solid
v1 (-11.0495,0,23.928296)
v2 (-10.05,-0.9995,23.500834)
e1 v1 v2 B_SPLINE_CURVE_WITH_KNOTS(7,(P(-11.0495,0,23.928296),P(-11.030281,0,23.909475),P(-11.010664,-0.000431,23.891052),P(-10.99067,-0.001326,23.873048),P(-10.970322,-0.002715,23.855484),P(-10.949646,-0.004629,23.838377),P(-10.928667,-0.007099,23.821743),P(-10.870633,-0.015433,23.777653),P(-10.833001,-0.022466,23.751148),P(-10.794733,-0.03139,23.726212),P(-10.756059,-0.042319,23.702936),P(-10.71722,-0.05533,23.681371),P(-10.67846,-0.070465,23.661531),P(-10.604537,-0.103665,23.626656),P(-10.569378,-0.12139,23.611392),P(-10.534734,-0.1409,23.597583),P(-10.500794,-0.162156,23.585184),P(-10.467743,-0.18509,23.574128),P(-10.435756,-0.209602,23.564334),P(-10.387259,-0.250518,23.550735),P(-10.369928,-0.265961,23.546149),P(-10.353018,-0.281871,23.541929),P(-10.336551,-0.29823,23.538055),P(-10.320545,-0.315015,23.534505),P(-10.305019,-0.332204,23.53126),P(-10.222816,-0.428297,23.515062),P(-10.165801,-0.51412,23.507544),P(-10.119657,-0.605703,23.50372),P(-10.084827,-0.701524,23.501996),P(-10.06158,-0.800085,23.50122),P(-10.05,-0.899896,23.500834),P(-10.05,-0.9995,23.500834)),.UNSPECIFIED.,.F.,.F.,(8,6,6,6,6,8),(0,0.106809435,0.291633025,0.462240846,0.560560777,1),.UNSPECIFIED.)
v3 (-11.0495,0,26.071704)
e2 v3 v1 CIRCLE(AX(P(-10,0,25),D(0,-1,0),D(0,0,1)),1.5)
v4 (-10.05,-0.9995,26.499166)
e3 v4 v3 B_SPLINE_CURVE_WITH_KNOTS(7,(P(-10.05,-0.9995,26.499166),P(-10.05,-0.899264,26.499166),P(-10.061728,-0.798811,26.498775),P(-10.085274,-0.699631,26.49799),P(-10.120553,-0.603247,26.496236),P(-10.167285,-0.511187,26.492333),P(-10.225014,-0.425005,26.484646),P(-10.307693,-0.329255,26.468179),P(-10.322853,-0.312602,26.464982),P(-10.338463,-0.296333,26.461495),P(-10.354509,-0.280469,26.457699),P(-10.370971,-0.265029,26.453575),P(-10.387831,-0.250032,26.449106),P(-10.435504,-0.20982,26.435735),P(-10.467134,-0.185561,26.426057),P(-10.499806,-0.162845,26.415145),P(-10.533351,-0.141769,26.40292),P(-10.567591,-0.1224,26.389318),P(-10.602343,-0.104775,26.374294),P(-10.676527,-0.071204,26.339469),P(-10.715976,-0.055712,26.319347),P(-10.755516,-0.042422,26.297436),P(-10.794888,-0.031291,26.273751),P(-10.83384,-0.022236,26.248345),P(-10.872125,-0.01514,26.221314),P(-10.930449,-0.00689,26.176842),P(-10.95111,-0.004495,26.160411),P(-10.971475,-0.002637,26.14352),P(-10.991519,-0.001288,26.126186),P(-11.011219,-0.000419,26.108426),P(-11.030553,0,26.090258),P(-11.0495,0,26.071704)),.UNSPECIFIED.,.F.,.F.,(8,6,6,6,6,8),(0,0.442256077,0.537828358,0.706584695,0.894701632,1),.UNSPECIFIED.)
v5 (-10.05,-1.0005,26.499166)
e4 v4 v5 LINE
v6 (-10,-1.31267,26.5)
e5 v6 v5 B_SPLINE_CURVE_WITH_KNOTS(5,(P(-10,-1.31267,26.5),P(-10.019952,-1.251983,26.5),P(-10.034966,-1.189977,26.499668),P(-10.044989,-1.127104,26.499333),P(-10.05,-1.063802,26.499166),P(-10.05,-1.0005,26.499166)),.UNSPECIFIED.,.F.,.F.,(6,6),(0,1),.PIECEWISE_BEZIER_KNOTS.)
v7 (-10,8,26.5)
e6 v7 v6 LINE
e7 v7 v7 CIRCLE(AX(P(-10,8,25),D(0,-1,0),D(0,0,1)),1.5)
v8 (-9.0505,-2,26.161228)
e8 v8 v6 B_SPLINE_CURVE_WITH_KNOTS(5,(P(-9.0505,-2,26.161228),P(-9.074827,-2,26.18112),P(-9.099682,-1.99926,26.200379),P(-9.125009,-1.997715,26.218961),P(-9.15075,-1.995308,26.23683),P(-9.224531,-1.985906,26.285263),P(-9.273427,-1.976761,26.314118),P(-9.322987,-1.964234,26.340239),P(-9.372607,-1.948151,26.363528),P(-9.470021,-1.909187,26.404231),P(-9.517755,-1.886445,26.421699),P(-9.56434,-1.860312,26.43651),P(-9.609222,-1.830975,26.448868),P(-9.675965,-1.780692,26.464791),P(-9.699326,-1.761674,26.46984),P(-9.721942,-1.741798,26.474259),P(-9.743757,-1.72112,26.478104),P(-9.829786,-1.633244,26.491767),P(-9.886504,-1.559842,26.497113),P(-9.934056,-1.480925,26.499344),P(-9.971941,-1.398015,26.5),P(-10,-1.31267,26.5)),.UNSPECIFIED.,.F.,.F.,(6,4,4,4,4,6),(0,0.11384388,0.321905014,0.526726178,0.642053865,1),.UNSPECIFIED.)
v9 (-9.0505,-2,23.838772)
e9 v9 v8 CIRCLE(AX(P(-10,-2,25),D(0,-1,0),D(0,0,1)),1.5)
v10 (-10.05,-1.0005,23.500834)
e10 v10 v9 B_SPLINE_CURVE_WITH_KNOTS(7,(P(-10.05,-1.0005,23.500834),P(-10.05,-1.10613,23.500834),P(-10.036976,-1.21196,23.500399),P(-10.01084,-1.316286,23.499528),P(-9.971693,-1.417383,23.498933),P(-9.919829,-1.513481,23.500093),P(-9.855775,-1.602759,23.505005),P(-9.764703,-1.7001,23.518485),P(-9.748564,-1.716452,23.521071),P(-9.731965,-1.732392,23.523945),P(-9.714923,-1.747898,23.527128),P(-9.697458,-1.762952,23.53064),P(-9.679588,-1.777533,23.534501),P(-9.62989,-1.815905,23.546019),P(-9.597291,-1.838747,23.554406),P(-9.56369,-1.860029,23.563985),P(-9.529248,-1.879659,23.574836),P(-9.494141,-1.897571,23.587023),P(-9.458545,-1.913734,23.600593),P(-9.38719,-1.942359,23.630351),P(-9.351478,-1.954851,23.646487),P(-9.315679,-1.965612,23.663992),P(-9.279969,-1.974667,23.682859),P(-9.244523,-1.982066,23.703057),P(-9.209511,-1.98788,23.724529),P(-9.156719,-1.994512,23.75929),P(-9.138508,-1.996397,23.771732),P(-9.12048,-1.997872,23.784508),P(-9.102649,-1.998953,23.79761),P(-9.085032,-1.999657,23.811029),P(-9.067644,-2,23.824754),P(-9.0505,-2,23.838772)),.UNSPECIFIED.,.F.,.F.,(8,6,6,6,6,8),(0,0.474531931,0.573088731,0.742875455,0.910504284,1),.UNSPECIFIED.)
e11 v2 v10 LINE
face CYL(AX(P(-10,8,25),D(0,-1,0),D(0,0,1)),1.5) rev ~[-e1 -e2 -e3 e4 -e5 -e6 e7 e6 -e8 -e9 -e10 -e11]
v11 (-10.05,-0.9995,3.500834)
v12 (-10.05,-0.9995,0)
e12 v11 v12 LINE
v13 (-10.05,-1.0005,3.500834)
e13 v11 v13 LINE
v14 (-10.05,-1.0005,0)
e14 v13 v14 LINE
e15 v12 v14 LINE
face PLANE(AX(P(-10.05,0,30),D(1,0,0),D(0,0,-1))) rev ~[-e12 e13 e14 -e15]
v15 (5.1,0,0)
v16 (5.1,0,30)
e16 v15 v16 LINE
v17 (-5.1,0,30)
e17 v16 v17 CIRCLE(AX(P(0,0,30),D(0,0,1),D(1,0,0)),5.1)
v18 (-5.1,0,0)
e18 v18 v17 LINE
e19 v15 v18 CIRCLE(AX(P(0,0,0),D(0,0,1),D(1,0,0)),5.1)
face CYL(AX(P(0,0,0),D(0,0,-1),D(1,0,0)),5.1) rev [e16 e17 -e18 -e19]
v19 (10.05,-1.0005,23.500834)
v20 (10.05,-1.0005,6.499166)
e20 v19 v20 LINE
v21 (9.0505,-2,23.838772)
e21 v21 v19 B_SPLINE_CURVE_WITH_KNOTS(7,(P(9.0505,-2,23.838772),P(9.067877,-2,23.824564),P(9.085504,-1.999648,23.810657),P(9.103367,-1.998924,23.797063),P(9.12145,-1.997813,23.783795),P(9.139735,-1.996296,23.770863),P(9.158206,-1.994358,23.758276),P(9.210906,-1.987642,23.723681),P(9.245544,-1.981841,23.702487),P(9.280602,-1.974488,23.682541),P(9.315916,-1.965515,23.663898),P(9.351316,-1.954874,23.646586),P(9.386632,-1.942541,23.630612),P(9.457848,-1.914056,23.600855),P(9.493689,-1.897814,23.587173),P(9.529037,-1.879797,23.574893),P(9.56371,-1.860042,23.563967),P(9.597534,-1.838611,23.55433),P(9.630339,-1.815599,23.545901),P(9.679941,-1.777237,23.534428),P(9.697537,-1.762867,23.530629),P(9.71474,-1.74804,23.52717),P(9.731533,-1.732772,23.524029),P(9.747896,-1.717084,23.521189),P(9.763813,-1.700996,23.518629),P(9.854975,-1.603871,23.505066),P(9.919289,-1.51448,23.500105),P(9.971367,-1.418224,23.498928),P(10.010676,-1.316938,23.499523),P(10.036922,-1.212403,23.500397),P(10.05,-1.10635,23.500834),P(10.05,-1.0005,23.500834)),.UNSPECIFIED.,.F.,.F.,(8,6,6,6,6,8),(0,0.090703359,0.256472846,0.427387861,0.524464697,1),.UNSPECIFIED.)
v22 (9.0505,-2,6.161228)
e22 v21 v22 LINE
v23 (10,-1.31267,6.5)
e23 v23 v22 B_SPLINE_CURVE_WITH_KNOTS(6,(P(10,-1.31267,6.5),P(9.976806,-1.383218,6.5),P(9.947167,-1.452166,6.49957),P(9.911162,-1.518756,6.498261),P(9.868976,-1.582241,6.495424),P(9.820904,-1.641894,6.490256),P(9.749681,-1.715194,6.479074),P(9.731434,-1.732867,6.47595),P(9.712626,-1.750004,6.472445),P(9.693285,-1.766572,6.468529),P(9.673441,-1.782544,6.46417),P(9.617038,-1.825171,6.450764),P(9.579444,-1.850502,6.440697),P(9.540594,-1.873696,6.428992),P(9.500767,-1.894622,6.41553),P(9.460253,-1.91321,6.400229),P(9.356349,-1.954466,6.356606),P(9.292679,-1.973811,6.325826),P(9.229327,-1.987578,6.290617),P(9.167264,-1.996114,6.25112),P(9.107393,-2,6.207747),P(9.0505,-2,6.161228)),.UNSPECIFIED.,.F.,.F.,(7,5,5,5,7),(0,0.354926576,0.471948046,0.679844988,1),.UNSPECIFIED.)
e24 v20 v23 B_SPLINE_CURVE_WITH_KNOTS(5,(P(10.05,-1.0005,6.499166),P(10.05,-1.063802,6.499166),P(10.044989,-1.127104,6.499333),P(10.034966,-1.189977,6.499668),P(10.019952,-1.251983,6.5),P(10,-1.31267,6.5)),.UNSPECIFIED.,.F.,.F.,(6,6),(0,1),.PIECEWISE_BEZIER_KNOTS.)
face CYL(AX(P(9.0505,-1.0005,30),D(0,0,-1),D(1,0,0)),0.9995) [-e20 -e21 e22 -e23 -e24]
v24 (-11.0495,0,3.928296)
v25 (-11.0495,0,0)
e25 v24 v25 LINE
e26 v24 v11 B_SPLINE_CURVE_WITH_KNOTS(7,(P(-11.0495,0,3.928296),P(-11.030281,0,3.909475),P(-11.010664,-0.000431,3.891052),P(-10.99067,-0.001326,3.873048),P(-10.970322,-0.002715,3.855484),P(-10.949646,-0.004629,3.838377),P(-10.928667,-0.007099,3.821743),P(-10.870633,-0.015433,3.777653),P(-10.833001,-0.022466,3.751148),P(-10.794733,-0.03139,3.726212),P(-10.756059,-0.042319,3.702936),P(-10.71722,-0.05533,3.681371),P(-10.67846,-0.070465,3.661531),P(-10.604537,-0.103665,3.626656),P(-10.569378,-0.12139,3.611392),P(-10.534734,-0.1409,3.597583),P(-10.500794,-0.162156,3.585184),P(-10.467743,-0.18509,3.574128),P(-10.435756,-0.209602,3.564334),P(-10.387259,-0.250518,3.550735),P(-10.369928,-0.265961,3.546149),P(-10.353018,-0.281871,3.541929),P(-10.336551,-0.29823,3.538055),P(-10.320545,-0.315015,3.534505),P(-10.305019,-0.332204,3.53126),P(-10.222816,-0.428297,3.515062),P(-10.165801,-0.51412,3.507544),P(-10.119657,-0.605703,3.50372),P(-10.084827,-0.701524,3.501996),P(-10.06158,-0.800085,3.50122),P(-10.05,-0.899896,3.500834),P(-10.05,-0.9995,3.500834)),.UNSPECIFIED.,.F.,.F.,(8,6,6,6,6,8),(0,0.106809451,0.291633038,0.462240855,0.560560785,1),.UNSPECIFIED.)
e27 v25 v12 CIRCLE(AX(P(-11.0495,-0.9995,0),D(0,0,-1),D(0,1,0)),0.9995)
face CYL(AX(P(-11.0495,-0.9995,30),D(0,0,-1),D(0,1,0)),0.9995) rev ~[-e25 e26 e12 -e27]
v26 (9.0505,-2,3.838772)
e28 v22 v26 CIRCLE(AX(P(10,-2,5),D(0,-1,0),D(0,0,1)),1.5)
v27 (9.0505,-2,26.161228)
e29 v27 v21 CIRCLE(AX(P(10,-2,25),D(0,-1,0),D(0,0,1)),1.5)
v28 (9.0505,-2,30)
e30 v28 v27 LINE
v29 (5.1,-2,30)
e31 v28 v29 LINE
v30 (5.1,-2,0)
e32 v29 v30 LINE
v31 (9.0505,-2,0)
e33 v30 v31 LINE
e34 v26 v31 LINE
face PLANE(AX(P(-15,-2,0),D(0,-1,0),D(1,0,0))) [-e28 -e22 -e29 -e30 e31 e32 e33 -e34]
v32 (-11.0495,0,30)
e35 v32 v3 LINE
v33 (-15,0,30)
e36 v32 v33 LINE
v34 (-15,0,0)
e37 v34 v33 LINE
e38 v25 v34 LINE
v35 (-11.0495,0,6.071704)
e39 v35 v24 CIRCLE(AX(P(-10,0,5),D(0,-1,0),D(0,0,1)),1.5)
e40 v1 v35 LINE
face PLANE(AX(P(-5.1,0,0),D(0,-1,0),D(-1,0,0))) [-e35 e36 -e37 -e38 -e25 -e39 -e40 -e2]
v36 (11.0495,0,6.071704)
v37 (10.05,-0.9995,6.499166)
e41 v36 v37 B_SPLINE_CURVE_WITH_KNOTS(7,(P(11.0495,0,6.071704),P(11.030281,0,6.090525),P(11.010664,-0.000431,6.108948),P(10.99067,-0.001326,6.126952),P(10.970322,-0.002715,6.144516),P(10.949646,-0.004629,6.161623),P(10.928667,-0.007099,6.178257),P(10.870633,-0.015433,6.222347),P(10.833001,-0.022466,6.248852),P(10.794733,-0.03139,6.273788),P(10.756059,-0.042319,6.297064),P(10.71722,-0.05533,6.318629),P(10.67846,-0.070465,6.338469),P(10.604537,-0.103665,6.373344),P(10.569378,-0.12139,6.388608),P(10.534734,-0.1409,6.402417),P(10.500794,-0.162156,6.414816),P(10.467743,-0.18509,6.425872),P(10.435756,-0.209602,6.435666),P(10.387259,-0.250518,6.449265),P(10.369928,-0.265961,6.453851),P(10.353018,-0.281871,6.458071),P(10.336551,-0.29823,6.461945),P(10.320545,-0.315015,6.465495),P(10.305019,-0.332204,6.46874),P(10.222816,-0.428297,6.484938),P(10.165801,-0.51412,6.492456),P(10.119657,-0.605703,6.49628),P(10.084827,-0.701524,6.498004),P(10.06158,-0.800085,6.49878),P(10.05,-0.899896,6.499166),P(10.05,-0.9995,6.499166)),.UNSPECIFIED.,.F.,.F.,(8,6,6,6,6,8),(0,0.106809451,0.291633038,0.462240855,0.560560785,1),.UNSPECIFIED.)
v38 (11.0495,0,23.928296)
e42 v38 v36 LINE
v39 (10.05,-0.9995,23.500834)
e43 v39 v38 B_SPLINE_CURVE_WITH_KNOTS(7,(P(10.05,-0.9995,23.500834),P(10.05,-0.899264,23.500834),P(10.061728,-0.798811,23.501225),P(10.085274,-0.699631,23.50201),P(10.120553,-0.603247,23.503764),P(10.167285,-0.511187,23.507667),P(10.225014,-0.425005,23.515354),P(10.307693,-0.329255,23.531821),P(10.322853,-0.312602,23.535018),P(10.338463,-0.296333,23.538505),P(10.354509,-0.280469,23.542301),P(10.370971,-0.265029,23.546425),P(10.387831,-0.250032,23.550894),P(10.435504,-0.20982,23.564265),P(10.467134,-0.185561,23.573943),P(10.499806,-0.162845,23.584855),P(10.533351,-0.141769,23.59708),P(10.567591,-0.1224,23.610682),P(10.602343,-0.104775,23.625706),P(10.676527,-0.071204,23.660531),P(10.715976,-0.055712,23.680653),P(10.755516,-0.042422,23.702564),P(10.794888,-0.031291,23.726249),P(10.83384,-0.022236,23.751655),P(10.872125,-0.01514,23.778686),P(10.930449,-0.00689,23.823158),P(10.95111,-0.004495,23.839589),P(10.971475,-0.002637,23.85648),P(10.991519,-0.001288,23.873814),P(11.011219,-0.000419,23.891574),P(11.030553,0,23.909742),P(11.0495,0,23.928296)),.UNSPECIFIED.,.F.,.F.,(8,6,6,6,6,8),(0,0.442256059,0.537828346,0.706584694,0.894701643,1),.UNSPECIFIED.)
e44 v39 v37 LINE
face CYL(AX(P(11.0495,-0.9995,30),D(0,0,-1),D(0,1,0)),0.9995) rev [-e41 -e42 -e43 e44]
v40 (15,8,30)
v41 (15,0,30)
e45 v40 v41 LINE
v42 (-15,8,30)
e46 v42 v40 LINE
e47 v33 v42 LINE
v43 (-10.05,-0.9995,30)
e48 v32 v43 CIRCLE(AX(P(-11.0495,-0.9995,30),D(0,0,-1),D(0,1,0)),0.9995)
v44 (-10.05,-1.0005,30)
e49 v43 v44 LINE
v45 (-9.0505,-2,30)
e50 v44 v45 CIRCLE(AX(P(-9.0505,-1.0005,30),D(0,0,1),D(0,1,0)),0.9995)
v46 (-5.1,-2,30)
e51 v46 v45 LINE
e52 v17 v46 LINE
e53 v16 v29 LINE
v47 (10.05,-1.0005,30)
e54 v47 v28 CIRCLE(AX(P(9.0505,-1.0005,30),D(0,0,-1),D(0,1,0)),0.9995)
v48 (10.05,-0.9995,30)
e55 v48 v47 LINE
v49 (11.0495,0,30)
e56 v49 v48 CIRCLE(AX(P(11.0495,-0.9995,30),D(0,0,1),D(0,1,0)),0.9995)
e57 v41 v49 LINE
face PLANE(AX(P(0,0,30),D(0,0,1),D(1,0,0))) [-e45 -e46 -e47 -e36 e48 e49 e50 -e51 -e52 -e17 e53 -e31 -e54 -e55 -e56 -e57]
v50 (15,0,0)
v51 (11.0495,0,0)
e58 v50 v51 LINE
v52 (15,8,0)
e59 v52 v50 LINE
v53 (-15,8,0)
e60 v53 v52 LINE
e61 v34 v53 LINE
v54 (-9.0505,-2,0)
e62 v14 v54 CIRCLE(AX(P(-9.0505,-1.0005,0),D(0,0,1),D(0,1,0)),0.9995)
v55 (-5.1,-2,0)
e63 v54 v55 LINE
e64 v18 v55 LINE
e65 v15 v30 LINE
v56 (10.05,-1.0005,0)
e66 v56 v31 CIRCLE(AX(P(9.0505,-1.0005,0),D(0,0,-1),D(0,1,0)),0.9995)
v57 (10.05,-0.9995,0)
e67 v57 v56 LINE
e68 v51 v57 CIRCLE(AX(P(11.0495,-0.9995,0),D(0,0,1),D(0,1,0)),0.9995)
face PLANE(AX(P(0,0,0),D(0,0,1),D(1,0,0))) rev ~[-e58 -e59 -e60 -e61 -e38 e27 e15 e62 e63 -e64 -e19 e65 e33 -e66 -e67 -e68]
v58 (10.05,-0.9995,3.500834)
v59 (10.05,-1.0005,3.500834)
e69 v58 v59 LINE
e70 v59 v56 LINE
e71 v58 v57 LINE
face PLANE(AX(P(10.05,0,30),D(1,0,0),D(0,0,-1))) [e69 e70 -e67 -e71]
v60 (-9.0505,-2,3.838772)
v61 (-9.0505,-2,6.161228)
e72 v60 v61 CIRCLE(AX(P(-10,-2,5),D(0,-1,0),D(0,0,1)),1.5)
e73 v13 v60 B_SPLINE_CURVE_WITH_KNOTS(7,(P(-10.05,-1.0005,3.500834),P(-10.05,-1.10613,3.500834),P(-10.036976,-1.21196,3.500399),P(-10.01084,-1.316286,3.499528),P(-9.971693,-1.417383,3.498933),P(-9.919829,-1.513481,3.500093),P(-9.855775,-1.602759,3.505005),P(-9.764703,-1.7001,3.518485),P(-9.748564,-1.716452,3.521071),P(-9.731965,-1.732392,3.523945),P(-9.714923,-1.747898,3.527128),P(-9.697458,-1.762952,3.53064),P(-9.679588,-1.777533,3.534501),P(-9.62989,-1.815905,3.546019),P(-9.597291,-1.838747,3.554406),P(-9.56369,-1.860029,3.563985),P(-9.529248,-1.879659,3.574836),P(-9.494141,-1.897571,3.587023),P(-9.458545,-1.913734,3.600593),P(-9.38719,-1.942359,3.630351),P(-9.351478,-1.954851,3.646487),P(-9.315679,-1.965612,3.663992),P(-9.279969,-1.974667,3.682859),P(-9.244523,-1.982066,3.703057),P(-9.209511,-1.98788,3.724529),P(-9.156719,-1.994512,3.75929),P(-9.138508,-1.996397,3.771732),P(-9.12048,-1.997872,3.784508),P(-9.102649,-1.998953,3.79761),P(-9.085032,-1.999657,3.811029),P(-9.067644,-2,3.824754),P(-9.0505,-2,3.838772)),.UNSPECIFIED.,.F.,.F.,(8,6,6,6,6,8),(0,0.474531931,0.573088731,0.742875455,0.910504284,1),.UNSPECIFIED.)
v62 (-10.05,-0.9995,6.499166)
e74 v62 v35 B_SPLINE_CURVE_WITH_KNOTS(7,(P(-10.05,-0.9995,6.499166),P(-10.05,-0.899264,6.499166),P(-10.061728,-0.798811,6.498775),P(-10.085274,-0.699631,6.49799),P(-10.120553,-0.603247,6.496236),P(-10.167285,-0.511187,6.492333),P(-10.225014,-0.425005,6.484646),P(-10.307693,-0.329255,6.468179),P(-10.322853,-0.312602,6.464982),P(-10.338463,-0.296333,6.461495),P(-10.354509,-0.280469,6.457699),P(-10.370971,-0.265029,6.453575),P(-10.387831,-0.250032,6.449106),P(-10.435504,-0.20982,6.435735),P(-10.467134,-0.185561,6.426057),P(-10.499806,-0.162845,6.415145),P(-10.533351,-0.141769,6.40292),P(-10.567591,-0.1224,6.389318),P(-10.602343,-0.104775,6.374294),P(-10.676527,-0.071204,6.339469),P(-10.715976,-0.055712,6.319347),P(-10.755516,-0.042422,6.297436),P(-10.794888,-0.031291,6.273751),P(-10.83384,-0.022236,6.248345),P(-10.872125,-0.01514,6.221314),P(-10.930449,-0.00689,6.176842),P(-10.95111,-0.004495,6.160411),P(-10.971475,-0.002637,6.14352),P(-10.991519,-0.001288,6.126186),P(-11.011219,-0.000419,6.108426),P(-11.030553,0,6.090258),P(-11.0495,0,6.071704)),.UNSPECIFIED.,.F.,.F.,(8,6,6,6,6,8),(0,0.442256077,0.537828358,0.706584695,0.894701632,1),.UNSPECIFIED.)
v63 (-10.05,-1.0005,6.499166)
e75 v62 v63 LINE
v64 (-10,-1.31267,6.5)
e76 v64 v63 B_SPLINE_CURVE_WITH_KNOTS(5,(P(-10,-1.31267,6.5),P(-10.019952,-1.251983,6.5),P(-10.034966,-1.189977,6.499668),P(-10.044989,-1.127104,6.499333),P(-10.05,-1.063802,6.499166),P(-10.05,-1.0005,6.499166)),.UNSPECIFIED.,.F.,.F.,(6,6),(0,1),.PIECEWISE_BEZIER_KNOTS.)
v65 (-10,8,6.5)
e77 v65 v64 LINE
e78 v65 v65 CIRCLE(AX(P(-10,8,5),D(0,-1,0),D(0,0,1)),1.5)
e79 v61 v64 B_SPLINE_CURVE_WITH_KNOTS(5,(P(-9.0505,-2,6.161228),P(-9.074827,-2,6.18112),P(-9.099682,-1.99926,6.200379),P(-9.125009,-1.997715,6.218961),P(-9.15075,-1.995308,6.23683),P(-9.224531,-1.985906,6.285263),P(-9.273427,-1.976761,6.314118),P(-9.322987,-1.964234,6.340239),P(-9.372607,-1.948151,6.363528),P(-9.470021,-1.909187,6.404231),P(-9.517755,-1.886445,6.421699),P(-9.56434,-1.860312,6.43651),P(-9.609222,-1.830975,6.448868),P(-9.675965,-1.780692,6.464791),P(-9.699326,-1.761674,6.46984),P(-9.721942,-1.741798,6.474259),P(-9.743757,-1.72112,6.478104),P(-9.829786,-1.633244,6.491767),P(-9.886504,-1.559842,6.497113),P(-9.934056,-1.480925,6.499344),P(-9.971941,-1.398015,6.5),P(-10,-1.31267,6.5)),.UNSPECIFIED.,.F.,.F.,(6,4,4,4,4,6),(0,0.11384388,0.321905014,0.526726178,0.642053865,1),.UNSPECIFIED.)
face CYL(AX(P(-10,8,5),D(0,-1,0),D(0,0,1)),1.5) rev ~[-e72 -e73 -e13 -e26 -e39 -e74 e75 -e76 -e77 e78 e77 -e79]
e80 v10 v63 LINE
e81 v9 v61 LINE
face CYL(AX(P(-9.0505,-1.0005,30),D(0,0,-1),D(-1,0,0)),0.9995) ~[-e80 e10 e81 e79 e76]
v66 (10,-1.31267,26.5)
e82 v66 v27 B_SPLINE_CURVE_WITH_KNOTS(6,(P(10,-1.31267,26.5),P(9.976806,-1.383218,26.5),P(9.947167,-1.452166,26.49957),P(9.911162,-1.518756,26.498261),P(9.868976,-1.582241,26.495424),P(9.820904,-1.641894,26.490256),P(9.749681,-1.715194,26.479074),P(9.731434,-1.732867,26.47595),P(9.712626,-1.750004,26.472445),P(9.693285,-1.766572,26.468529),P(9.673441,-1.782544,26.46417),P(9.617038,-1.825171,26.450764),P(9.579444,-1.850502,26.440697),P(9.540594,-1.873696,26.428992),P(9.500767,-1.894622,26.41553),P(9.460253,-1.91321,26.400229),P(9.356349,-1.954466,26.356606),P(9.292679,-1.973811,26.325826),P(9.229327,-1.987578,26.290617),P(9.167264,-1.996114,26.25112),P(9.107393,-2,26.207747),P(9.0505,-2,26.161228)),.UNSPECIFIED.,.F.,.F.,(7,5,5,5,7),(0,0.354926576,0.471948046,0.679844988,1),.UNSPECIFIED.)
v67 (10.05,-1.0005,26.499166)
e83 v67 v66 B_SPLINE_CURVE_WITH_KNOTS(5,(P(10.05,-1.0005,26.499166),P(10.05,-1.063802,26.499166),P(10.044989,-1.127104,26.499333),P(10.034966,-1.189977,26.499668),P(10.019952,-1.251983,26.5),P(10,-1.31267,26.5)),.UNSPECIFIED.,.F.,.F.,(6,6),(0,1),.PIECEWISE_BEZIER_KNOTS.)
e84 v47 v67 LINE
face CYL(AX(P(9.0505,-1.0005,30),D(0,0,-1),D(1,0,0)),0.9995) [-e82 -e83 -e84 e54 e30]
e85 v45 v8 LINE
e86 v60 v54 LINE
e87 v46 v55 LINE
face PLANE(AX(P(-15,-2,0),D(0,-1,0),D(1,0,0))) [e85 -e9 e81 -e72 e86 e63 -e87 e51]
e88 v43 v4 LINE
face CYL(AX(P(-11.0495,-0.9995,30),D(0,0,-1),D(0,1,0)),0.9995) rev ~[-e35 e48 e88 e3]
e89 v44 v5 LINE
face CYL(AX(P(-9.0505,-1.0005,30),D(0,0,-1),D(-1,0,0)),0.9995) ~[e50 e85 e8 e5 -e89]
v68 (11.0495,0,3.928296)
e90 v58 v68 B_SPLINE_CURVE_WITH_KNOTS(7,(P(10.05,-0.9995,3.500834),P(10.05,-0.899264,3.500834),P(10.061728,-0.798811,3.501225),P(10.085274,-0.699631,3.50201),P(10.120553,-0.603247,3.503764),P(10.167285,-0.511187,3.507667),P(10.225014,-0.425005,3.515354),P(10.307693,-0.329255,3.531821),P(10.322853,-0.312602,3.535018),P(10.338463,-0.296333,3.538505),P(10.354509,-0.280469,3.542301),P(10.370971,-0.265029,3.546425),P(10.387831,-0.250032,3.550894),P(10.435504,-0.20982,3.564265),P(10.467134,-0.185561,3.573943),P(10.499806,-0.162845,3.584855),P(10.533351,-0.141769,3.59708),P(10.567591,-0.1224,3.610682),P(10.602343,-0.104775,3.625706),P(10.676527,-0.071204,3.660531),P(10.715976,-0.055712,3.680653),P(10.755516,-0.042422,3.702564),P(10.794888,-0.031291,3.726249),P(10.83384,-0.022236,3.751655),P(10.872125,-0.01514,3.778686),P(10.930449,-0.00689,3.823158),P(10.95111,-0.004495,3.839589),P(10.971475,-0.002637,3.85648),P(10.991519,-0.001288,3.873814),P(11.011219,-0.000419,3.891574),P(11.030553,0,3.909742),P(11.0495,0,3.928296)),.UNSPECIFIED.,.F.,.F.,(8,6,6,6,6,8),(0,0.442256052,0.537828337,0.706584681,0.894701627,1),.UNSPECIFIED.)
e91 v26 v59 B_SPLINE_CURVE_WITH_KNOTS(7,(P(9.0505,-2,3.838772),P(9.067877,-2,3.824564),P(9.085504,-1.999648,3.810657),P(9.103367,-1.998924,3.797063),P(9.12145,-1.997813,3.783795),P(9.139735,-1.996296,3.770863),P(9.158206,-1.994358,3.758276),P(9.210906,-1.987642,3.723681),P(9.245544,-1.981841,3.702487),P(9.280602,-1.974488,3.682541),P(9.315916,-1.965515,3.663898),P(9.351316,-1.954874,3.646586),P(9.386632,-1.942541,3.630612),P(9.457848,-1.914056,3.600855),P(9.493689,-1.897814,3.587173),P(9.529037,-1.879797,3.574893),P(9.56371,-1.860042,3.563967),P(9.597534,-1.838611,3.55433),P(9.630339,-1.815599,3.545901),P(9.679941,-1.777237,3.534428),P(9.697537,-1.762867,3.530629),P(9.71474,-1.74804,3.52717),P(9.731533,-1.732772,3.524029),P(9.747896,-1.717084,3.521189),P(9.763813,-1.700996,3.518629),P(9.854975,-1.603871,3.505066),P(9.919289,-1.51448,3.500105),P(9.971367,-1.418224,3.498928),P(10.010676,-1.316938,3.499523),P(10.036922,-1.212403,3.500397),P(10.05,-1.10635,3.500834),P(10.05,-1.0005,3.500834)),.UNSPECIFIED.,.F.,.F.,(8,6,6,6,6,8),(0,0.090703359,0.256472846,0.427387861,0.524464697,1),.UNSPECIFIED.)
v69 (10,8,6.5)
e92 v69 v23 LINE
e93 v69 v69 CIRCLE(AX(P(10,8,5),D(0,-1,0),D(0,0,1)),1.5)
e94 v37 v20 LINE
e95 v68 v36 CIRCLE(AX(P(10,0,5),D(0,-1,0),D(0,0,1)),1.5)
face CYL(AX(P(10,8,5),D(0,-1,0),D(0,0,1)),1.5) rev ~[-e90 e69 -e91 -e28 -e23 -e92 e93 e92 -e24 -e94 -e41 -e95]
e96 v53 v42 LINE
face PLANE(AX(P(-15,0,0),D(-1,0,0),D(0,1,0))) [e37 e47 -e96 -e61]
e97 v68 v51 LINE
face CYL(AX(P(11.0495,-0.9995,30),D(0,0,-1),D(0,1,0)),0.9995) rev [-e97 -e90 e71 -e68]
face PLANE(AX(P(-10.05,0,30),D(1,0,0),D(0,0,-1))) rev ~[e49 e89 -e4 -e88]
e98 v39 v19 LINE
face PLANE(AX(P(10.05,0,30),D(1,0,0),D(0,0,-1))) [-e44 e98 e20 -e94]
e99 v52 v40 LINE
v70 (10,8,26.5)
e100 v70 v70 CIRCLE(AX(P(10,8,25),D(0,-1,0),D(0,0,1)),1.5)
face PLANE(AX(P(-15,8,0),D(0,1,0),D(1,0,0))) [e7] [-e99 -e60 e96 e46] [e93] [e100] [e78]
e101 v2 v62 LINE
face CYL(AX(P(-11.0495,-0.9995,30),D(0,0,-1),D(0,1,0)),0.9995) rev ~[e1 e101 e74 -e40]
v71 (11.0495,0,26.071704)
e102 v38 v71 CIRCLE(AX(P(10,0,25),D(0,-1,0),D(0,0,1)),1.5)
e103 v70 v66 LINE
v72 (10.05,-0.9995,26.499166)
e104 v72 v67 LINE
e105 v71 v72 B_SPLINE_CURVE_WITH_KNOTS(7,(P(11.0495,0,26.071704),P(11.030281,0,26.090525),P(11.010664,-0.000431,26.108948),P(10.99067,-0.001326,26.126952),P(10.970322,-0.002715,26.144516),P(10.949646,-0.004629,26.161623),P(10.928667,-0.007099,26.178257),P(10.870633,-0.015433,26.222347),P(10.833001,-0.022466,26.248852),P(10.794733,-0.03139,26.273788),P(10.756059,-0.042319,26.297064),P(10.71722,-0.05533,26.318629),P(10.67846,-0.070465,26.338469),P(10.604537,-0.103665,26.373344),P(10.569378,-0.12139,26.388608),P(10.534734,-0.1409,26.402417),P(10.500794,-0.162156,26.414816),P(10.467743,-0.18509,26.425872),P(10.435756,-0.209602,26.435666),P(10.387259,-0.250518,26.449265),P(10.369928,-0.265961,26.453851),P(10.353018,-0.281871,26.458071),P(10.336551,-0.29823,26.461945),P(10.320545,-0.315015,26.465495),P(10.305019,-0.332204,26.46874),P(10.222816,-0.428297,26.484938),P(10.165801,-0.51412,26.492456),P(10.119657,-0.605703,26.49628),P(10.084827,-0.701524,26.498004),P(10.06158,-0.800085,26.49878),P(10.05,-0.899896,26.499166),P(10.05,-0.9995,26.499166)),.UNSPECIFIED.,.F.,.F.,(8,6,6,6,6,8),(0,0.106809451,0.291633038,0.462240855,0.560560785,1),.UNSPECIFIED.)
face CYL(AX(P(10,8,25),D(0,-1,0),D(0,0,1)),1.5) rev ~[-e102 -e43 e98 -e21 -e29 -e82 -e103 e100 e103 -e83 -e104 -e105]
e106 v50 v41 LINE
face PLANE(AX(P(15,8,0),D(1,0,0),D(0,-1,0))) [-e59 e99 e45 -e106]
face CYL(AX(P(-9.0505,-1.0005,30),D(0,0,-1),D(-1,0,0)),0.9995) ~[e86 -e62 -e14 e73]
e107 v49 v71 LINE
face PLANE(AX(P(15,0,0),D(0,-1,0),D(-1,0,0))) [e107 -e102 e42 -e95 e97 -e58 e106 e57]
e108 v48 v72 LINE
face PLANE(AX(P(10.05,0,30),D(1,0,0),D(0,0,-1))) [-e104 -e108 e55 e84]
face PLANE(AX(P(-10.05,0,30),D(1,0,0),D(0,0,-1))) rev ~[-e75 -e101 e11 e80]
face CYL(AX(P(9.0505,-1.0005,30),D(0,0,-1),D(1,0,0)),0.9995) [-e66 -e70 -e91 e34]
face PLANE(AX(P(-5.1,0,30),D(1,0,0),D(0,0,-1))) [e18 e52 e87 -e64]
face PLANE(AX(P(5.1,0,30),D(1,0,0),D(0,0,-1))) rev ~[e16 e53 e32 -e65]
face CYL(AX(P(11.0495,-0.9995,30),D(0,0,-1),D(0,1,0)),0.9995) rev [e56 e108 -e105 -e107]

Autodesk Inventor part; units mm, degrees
ref_plane "YZ Plane" through (0, 0, 0) normal (1, 0, 0) x (0, 1, 0)
ref_plane "XZ Plane" through (0, 0, 0) normal (0, 1, 0) x (-1, 0, 0)
ref_plane "XY Plane" through (0, 0, 0) normal (0, 0, 1) x (1, 0, 0)
sketch "スケッチ1" plane through (0, 0, 0) normal (0, 0, 1) x (1, 0, 0)
  arc A0 (-5.1, 0) -> (5.1, 0) centre (0, 0) ccw
  line L0 (-15, 8) -> (15, 8)
  line L1 (15, 8) -> (15, 0)
  line L2 (15, 0) -> (5.1, 0)
  line L3 (-15, 0) -> (-15, 8)
  arc A1 (5.1, 0) -> (-5.1, 0) centre (0, 0) ccw
  line L4 (5.1, 0) -> (-5.1, 0)
  line L5 (-5.1, 0) -> (-15, 0)
  dimension "d0" = 10.2
  dimension "d1" = 30
  dimension "d2" = 15
  dimension "d3" = 8
  dimension "d4" = 0
extrude "押し出し1" add sketch "スケッチ1" along normal blind 30 contours L5 L3 L0 L1 L2 A1
sketch "スケッチ2" plane through (-15, 0, 0) normal (0, -1, 0) x (1, 0, 0)
  line L0 (9.9, 30) -> (0, 30) projected
  line L1 (0, 0) -> (9.9, 0) projected
  line L2 (0, 30) -> (4.95, 30)
  line L3 (4.95, 30) -> (4.95, 0)
  line L4 (4.95, 0) -> (0, 0)
  line L5 (0, 0) -> (0, 30)
  line L6 (30, 30) -> (25.05, 30)
  line L7 (25.05, 30) -> (25.05, 0)
  line L8 (25.05, 0) -> (30, 0)
  line L9 (30, 0) -> (30, 30)
  line L10 (4.95, 30) -> (9.9, 30)
  line L11 (9.9, 30) -> (9.9, 0)
  line L12 (9.9, 0) -> (4.95, 0)
  line L13 (4.95, 0) -> (4.95, 30)
  line L14 (25.05, 30) -> (20.1, 30)
  line L15 (20.1, 30) -> (20.1, 0)
  line L16 (20.1, 0) -> (25.05, 0)
  line L17 (25.05, 0) -> (25.05, 30)
  point P0 (15, 0)
  dimension "d7" = 30
  dimension "d8" = 4.95
  dimension "d34" = 4.95
extrude "押し出し2" add sketch "スケッチ2" along normal blind 2 contours L11 L1 L3 L0 | L7 L16 L15 L14
fillet "フィレット2" radius 1 4 edges at (-10.05, 0, 15) (-10.05, -2, 15) (10.05, 0, 15) (10.05, -2, 15)
sketch "スケッチ3" plane through (-15, 8, 0) normal (0, 1, 0) x (1, 0, 0)
  line L0 (0, -30) -> (30, -30) projected
  line L1 (30, 0) -> (30, -30) projected
  line L2 (30, 0) -> (0, 0) projected
  line L3 (0, 0) -> (0, -30) projected
  point P0 (15, 0)
  point P1 (5, -5)
  point P2 (5, -25)
  point P3 (25, -25)
  point P4 (25, -5)
  dimension "d11" = 5
  dimension "d12" = 5
  dimension "d13" = 5
  dimension "d14" = 5
  dimension "d15" = 5
  dimension "d16" = 5
  dimension "d17" = 5
  dimension "d18" = 5
hole "Hole3" at (-10, 8, 5) at (-10, 8, 25) at (10, 8, 25) at (10, 8, 5) direction (0, -1, 0) diameter 3 end through all
sketch "スケッチ4" plane through (0, 0, 30) normal (0, 0, 1) x (1, 0, 0)
  arc A0 (9.05, -2) -> (10.05, -1) centre (9.05, -1) ccw projected
  arc A1 (11.05, 0) -> (10.05, -1) centre (11.05, -1) ccw projected
  line L0 (15, 0) -> (11.05, 0) projected
  line L1 (15, 8) -> (15, 0) projected
  line L2 (-15, 8) -> (15, 8) projected
  line L3 (-15, 0) -> (-15, 8) projected
  line L4 (-11.05, 0) -> (-15, 0) projected
  arc A2 (-10.05, -1) -> (-11.05, 0) centre (-11.05, -1) ccw projected
  arc A3 (-10.05, -1) -> (-9.05, -2) centre (-9.05, -1) ccw projected
  line L5 (-9.05, -2) -> (-5.1, -2) projected
  line L6 (-5.1, 0) -> (-5.1, -2) projected
  arc A4 (5.1, 0) -> (-5.1, 0) centre (0, 0) ccw projected
  line L7 (5.1, 0) -> (5.1, -2) projected
  line L8 (5.1, -2) -> (9.05, -2) projected
  line L9 (-15, 0.1) -> (-10.95, 0.1)
  line L10 (-9.95, -0.9) -> (-9.95, -0.9)
  line L11 (-8.95, -1.9) -> (-5.1, -1.9)
  arc A5 (-9.95, -0.9) -> (-10.95, 0.1) centre (-10.95, -0.9) ccw
  arc A6 (-9.95, -0.9) -> (-8.95, -1.9) centre (-8.95, -0.9) ccw
  line L12 (0, 0) -> (0, 8)
  line L13 (15, 0.1) -> (10.95, 0.1)
  line L14 (8.95, -1.9) -> (5.1, -1.9)
  arc A7 (10.95, 0.1) -> (9.95, -0.9) centre (10.95, -0.9) ccw
  arc A8 (8.95, -1.9) -> (9.95, -0.9) centre (8.95, -0.9) ccw
  point P0 (-9.95, 0.1)
  dimension "d43" = 5.05
  dimension "d44" = 2.1
  dimension "d45" = 0.1
  dimension "d46" = 1
equation "\"d2\" = 0.5 * d1"
equation "\"d34\" = d8"
equation "\"d12\" = d11"
equation "\"d13\" = d11"
equation "\"d14\" = d13"
equation "\"d15\" = d11"
equation "\"d16\" = d11"
equation "\"d17\" = d11"
equation "\"d18\" = d11"
properties part number "poleHolderB" material "Aluminum-6061"
